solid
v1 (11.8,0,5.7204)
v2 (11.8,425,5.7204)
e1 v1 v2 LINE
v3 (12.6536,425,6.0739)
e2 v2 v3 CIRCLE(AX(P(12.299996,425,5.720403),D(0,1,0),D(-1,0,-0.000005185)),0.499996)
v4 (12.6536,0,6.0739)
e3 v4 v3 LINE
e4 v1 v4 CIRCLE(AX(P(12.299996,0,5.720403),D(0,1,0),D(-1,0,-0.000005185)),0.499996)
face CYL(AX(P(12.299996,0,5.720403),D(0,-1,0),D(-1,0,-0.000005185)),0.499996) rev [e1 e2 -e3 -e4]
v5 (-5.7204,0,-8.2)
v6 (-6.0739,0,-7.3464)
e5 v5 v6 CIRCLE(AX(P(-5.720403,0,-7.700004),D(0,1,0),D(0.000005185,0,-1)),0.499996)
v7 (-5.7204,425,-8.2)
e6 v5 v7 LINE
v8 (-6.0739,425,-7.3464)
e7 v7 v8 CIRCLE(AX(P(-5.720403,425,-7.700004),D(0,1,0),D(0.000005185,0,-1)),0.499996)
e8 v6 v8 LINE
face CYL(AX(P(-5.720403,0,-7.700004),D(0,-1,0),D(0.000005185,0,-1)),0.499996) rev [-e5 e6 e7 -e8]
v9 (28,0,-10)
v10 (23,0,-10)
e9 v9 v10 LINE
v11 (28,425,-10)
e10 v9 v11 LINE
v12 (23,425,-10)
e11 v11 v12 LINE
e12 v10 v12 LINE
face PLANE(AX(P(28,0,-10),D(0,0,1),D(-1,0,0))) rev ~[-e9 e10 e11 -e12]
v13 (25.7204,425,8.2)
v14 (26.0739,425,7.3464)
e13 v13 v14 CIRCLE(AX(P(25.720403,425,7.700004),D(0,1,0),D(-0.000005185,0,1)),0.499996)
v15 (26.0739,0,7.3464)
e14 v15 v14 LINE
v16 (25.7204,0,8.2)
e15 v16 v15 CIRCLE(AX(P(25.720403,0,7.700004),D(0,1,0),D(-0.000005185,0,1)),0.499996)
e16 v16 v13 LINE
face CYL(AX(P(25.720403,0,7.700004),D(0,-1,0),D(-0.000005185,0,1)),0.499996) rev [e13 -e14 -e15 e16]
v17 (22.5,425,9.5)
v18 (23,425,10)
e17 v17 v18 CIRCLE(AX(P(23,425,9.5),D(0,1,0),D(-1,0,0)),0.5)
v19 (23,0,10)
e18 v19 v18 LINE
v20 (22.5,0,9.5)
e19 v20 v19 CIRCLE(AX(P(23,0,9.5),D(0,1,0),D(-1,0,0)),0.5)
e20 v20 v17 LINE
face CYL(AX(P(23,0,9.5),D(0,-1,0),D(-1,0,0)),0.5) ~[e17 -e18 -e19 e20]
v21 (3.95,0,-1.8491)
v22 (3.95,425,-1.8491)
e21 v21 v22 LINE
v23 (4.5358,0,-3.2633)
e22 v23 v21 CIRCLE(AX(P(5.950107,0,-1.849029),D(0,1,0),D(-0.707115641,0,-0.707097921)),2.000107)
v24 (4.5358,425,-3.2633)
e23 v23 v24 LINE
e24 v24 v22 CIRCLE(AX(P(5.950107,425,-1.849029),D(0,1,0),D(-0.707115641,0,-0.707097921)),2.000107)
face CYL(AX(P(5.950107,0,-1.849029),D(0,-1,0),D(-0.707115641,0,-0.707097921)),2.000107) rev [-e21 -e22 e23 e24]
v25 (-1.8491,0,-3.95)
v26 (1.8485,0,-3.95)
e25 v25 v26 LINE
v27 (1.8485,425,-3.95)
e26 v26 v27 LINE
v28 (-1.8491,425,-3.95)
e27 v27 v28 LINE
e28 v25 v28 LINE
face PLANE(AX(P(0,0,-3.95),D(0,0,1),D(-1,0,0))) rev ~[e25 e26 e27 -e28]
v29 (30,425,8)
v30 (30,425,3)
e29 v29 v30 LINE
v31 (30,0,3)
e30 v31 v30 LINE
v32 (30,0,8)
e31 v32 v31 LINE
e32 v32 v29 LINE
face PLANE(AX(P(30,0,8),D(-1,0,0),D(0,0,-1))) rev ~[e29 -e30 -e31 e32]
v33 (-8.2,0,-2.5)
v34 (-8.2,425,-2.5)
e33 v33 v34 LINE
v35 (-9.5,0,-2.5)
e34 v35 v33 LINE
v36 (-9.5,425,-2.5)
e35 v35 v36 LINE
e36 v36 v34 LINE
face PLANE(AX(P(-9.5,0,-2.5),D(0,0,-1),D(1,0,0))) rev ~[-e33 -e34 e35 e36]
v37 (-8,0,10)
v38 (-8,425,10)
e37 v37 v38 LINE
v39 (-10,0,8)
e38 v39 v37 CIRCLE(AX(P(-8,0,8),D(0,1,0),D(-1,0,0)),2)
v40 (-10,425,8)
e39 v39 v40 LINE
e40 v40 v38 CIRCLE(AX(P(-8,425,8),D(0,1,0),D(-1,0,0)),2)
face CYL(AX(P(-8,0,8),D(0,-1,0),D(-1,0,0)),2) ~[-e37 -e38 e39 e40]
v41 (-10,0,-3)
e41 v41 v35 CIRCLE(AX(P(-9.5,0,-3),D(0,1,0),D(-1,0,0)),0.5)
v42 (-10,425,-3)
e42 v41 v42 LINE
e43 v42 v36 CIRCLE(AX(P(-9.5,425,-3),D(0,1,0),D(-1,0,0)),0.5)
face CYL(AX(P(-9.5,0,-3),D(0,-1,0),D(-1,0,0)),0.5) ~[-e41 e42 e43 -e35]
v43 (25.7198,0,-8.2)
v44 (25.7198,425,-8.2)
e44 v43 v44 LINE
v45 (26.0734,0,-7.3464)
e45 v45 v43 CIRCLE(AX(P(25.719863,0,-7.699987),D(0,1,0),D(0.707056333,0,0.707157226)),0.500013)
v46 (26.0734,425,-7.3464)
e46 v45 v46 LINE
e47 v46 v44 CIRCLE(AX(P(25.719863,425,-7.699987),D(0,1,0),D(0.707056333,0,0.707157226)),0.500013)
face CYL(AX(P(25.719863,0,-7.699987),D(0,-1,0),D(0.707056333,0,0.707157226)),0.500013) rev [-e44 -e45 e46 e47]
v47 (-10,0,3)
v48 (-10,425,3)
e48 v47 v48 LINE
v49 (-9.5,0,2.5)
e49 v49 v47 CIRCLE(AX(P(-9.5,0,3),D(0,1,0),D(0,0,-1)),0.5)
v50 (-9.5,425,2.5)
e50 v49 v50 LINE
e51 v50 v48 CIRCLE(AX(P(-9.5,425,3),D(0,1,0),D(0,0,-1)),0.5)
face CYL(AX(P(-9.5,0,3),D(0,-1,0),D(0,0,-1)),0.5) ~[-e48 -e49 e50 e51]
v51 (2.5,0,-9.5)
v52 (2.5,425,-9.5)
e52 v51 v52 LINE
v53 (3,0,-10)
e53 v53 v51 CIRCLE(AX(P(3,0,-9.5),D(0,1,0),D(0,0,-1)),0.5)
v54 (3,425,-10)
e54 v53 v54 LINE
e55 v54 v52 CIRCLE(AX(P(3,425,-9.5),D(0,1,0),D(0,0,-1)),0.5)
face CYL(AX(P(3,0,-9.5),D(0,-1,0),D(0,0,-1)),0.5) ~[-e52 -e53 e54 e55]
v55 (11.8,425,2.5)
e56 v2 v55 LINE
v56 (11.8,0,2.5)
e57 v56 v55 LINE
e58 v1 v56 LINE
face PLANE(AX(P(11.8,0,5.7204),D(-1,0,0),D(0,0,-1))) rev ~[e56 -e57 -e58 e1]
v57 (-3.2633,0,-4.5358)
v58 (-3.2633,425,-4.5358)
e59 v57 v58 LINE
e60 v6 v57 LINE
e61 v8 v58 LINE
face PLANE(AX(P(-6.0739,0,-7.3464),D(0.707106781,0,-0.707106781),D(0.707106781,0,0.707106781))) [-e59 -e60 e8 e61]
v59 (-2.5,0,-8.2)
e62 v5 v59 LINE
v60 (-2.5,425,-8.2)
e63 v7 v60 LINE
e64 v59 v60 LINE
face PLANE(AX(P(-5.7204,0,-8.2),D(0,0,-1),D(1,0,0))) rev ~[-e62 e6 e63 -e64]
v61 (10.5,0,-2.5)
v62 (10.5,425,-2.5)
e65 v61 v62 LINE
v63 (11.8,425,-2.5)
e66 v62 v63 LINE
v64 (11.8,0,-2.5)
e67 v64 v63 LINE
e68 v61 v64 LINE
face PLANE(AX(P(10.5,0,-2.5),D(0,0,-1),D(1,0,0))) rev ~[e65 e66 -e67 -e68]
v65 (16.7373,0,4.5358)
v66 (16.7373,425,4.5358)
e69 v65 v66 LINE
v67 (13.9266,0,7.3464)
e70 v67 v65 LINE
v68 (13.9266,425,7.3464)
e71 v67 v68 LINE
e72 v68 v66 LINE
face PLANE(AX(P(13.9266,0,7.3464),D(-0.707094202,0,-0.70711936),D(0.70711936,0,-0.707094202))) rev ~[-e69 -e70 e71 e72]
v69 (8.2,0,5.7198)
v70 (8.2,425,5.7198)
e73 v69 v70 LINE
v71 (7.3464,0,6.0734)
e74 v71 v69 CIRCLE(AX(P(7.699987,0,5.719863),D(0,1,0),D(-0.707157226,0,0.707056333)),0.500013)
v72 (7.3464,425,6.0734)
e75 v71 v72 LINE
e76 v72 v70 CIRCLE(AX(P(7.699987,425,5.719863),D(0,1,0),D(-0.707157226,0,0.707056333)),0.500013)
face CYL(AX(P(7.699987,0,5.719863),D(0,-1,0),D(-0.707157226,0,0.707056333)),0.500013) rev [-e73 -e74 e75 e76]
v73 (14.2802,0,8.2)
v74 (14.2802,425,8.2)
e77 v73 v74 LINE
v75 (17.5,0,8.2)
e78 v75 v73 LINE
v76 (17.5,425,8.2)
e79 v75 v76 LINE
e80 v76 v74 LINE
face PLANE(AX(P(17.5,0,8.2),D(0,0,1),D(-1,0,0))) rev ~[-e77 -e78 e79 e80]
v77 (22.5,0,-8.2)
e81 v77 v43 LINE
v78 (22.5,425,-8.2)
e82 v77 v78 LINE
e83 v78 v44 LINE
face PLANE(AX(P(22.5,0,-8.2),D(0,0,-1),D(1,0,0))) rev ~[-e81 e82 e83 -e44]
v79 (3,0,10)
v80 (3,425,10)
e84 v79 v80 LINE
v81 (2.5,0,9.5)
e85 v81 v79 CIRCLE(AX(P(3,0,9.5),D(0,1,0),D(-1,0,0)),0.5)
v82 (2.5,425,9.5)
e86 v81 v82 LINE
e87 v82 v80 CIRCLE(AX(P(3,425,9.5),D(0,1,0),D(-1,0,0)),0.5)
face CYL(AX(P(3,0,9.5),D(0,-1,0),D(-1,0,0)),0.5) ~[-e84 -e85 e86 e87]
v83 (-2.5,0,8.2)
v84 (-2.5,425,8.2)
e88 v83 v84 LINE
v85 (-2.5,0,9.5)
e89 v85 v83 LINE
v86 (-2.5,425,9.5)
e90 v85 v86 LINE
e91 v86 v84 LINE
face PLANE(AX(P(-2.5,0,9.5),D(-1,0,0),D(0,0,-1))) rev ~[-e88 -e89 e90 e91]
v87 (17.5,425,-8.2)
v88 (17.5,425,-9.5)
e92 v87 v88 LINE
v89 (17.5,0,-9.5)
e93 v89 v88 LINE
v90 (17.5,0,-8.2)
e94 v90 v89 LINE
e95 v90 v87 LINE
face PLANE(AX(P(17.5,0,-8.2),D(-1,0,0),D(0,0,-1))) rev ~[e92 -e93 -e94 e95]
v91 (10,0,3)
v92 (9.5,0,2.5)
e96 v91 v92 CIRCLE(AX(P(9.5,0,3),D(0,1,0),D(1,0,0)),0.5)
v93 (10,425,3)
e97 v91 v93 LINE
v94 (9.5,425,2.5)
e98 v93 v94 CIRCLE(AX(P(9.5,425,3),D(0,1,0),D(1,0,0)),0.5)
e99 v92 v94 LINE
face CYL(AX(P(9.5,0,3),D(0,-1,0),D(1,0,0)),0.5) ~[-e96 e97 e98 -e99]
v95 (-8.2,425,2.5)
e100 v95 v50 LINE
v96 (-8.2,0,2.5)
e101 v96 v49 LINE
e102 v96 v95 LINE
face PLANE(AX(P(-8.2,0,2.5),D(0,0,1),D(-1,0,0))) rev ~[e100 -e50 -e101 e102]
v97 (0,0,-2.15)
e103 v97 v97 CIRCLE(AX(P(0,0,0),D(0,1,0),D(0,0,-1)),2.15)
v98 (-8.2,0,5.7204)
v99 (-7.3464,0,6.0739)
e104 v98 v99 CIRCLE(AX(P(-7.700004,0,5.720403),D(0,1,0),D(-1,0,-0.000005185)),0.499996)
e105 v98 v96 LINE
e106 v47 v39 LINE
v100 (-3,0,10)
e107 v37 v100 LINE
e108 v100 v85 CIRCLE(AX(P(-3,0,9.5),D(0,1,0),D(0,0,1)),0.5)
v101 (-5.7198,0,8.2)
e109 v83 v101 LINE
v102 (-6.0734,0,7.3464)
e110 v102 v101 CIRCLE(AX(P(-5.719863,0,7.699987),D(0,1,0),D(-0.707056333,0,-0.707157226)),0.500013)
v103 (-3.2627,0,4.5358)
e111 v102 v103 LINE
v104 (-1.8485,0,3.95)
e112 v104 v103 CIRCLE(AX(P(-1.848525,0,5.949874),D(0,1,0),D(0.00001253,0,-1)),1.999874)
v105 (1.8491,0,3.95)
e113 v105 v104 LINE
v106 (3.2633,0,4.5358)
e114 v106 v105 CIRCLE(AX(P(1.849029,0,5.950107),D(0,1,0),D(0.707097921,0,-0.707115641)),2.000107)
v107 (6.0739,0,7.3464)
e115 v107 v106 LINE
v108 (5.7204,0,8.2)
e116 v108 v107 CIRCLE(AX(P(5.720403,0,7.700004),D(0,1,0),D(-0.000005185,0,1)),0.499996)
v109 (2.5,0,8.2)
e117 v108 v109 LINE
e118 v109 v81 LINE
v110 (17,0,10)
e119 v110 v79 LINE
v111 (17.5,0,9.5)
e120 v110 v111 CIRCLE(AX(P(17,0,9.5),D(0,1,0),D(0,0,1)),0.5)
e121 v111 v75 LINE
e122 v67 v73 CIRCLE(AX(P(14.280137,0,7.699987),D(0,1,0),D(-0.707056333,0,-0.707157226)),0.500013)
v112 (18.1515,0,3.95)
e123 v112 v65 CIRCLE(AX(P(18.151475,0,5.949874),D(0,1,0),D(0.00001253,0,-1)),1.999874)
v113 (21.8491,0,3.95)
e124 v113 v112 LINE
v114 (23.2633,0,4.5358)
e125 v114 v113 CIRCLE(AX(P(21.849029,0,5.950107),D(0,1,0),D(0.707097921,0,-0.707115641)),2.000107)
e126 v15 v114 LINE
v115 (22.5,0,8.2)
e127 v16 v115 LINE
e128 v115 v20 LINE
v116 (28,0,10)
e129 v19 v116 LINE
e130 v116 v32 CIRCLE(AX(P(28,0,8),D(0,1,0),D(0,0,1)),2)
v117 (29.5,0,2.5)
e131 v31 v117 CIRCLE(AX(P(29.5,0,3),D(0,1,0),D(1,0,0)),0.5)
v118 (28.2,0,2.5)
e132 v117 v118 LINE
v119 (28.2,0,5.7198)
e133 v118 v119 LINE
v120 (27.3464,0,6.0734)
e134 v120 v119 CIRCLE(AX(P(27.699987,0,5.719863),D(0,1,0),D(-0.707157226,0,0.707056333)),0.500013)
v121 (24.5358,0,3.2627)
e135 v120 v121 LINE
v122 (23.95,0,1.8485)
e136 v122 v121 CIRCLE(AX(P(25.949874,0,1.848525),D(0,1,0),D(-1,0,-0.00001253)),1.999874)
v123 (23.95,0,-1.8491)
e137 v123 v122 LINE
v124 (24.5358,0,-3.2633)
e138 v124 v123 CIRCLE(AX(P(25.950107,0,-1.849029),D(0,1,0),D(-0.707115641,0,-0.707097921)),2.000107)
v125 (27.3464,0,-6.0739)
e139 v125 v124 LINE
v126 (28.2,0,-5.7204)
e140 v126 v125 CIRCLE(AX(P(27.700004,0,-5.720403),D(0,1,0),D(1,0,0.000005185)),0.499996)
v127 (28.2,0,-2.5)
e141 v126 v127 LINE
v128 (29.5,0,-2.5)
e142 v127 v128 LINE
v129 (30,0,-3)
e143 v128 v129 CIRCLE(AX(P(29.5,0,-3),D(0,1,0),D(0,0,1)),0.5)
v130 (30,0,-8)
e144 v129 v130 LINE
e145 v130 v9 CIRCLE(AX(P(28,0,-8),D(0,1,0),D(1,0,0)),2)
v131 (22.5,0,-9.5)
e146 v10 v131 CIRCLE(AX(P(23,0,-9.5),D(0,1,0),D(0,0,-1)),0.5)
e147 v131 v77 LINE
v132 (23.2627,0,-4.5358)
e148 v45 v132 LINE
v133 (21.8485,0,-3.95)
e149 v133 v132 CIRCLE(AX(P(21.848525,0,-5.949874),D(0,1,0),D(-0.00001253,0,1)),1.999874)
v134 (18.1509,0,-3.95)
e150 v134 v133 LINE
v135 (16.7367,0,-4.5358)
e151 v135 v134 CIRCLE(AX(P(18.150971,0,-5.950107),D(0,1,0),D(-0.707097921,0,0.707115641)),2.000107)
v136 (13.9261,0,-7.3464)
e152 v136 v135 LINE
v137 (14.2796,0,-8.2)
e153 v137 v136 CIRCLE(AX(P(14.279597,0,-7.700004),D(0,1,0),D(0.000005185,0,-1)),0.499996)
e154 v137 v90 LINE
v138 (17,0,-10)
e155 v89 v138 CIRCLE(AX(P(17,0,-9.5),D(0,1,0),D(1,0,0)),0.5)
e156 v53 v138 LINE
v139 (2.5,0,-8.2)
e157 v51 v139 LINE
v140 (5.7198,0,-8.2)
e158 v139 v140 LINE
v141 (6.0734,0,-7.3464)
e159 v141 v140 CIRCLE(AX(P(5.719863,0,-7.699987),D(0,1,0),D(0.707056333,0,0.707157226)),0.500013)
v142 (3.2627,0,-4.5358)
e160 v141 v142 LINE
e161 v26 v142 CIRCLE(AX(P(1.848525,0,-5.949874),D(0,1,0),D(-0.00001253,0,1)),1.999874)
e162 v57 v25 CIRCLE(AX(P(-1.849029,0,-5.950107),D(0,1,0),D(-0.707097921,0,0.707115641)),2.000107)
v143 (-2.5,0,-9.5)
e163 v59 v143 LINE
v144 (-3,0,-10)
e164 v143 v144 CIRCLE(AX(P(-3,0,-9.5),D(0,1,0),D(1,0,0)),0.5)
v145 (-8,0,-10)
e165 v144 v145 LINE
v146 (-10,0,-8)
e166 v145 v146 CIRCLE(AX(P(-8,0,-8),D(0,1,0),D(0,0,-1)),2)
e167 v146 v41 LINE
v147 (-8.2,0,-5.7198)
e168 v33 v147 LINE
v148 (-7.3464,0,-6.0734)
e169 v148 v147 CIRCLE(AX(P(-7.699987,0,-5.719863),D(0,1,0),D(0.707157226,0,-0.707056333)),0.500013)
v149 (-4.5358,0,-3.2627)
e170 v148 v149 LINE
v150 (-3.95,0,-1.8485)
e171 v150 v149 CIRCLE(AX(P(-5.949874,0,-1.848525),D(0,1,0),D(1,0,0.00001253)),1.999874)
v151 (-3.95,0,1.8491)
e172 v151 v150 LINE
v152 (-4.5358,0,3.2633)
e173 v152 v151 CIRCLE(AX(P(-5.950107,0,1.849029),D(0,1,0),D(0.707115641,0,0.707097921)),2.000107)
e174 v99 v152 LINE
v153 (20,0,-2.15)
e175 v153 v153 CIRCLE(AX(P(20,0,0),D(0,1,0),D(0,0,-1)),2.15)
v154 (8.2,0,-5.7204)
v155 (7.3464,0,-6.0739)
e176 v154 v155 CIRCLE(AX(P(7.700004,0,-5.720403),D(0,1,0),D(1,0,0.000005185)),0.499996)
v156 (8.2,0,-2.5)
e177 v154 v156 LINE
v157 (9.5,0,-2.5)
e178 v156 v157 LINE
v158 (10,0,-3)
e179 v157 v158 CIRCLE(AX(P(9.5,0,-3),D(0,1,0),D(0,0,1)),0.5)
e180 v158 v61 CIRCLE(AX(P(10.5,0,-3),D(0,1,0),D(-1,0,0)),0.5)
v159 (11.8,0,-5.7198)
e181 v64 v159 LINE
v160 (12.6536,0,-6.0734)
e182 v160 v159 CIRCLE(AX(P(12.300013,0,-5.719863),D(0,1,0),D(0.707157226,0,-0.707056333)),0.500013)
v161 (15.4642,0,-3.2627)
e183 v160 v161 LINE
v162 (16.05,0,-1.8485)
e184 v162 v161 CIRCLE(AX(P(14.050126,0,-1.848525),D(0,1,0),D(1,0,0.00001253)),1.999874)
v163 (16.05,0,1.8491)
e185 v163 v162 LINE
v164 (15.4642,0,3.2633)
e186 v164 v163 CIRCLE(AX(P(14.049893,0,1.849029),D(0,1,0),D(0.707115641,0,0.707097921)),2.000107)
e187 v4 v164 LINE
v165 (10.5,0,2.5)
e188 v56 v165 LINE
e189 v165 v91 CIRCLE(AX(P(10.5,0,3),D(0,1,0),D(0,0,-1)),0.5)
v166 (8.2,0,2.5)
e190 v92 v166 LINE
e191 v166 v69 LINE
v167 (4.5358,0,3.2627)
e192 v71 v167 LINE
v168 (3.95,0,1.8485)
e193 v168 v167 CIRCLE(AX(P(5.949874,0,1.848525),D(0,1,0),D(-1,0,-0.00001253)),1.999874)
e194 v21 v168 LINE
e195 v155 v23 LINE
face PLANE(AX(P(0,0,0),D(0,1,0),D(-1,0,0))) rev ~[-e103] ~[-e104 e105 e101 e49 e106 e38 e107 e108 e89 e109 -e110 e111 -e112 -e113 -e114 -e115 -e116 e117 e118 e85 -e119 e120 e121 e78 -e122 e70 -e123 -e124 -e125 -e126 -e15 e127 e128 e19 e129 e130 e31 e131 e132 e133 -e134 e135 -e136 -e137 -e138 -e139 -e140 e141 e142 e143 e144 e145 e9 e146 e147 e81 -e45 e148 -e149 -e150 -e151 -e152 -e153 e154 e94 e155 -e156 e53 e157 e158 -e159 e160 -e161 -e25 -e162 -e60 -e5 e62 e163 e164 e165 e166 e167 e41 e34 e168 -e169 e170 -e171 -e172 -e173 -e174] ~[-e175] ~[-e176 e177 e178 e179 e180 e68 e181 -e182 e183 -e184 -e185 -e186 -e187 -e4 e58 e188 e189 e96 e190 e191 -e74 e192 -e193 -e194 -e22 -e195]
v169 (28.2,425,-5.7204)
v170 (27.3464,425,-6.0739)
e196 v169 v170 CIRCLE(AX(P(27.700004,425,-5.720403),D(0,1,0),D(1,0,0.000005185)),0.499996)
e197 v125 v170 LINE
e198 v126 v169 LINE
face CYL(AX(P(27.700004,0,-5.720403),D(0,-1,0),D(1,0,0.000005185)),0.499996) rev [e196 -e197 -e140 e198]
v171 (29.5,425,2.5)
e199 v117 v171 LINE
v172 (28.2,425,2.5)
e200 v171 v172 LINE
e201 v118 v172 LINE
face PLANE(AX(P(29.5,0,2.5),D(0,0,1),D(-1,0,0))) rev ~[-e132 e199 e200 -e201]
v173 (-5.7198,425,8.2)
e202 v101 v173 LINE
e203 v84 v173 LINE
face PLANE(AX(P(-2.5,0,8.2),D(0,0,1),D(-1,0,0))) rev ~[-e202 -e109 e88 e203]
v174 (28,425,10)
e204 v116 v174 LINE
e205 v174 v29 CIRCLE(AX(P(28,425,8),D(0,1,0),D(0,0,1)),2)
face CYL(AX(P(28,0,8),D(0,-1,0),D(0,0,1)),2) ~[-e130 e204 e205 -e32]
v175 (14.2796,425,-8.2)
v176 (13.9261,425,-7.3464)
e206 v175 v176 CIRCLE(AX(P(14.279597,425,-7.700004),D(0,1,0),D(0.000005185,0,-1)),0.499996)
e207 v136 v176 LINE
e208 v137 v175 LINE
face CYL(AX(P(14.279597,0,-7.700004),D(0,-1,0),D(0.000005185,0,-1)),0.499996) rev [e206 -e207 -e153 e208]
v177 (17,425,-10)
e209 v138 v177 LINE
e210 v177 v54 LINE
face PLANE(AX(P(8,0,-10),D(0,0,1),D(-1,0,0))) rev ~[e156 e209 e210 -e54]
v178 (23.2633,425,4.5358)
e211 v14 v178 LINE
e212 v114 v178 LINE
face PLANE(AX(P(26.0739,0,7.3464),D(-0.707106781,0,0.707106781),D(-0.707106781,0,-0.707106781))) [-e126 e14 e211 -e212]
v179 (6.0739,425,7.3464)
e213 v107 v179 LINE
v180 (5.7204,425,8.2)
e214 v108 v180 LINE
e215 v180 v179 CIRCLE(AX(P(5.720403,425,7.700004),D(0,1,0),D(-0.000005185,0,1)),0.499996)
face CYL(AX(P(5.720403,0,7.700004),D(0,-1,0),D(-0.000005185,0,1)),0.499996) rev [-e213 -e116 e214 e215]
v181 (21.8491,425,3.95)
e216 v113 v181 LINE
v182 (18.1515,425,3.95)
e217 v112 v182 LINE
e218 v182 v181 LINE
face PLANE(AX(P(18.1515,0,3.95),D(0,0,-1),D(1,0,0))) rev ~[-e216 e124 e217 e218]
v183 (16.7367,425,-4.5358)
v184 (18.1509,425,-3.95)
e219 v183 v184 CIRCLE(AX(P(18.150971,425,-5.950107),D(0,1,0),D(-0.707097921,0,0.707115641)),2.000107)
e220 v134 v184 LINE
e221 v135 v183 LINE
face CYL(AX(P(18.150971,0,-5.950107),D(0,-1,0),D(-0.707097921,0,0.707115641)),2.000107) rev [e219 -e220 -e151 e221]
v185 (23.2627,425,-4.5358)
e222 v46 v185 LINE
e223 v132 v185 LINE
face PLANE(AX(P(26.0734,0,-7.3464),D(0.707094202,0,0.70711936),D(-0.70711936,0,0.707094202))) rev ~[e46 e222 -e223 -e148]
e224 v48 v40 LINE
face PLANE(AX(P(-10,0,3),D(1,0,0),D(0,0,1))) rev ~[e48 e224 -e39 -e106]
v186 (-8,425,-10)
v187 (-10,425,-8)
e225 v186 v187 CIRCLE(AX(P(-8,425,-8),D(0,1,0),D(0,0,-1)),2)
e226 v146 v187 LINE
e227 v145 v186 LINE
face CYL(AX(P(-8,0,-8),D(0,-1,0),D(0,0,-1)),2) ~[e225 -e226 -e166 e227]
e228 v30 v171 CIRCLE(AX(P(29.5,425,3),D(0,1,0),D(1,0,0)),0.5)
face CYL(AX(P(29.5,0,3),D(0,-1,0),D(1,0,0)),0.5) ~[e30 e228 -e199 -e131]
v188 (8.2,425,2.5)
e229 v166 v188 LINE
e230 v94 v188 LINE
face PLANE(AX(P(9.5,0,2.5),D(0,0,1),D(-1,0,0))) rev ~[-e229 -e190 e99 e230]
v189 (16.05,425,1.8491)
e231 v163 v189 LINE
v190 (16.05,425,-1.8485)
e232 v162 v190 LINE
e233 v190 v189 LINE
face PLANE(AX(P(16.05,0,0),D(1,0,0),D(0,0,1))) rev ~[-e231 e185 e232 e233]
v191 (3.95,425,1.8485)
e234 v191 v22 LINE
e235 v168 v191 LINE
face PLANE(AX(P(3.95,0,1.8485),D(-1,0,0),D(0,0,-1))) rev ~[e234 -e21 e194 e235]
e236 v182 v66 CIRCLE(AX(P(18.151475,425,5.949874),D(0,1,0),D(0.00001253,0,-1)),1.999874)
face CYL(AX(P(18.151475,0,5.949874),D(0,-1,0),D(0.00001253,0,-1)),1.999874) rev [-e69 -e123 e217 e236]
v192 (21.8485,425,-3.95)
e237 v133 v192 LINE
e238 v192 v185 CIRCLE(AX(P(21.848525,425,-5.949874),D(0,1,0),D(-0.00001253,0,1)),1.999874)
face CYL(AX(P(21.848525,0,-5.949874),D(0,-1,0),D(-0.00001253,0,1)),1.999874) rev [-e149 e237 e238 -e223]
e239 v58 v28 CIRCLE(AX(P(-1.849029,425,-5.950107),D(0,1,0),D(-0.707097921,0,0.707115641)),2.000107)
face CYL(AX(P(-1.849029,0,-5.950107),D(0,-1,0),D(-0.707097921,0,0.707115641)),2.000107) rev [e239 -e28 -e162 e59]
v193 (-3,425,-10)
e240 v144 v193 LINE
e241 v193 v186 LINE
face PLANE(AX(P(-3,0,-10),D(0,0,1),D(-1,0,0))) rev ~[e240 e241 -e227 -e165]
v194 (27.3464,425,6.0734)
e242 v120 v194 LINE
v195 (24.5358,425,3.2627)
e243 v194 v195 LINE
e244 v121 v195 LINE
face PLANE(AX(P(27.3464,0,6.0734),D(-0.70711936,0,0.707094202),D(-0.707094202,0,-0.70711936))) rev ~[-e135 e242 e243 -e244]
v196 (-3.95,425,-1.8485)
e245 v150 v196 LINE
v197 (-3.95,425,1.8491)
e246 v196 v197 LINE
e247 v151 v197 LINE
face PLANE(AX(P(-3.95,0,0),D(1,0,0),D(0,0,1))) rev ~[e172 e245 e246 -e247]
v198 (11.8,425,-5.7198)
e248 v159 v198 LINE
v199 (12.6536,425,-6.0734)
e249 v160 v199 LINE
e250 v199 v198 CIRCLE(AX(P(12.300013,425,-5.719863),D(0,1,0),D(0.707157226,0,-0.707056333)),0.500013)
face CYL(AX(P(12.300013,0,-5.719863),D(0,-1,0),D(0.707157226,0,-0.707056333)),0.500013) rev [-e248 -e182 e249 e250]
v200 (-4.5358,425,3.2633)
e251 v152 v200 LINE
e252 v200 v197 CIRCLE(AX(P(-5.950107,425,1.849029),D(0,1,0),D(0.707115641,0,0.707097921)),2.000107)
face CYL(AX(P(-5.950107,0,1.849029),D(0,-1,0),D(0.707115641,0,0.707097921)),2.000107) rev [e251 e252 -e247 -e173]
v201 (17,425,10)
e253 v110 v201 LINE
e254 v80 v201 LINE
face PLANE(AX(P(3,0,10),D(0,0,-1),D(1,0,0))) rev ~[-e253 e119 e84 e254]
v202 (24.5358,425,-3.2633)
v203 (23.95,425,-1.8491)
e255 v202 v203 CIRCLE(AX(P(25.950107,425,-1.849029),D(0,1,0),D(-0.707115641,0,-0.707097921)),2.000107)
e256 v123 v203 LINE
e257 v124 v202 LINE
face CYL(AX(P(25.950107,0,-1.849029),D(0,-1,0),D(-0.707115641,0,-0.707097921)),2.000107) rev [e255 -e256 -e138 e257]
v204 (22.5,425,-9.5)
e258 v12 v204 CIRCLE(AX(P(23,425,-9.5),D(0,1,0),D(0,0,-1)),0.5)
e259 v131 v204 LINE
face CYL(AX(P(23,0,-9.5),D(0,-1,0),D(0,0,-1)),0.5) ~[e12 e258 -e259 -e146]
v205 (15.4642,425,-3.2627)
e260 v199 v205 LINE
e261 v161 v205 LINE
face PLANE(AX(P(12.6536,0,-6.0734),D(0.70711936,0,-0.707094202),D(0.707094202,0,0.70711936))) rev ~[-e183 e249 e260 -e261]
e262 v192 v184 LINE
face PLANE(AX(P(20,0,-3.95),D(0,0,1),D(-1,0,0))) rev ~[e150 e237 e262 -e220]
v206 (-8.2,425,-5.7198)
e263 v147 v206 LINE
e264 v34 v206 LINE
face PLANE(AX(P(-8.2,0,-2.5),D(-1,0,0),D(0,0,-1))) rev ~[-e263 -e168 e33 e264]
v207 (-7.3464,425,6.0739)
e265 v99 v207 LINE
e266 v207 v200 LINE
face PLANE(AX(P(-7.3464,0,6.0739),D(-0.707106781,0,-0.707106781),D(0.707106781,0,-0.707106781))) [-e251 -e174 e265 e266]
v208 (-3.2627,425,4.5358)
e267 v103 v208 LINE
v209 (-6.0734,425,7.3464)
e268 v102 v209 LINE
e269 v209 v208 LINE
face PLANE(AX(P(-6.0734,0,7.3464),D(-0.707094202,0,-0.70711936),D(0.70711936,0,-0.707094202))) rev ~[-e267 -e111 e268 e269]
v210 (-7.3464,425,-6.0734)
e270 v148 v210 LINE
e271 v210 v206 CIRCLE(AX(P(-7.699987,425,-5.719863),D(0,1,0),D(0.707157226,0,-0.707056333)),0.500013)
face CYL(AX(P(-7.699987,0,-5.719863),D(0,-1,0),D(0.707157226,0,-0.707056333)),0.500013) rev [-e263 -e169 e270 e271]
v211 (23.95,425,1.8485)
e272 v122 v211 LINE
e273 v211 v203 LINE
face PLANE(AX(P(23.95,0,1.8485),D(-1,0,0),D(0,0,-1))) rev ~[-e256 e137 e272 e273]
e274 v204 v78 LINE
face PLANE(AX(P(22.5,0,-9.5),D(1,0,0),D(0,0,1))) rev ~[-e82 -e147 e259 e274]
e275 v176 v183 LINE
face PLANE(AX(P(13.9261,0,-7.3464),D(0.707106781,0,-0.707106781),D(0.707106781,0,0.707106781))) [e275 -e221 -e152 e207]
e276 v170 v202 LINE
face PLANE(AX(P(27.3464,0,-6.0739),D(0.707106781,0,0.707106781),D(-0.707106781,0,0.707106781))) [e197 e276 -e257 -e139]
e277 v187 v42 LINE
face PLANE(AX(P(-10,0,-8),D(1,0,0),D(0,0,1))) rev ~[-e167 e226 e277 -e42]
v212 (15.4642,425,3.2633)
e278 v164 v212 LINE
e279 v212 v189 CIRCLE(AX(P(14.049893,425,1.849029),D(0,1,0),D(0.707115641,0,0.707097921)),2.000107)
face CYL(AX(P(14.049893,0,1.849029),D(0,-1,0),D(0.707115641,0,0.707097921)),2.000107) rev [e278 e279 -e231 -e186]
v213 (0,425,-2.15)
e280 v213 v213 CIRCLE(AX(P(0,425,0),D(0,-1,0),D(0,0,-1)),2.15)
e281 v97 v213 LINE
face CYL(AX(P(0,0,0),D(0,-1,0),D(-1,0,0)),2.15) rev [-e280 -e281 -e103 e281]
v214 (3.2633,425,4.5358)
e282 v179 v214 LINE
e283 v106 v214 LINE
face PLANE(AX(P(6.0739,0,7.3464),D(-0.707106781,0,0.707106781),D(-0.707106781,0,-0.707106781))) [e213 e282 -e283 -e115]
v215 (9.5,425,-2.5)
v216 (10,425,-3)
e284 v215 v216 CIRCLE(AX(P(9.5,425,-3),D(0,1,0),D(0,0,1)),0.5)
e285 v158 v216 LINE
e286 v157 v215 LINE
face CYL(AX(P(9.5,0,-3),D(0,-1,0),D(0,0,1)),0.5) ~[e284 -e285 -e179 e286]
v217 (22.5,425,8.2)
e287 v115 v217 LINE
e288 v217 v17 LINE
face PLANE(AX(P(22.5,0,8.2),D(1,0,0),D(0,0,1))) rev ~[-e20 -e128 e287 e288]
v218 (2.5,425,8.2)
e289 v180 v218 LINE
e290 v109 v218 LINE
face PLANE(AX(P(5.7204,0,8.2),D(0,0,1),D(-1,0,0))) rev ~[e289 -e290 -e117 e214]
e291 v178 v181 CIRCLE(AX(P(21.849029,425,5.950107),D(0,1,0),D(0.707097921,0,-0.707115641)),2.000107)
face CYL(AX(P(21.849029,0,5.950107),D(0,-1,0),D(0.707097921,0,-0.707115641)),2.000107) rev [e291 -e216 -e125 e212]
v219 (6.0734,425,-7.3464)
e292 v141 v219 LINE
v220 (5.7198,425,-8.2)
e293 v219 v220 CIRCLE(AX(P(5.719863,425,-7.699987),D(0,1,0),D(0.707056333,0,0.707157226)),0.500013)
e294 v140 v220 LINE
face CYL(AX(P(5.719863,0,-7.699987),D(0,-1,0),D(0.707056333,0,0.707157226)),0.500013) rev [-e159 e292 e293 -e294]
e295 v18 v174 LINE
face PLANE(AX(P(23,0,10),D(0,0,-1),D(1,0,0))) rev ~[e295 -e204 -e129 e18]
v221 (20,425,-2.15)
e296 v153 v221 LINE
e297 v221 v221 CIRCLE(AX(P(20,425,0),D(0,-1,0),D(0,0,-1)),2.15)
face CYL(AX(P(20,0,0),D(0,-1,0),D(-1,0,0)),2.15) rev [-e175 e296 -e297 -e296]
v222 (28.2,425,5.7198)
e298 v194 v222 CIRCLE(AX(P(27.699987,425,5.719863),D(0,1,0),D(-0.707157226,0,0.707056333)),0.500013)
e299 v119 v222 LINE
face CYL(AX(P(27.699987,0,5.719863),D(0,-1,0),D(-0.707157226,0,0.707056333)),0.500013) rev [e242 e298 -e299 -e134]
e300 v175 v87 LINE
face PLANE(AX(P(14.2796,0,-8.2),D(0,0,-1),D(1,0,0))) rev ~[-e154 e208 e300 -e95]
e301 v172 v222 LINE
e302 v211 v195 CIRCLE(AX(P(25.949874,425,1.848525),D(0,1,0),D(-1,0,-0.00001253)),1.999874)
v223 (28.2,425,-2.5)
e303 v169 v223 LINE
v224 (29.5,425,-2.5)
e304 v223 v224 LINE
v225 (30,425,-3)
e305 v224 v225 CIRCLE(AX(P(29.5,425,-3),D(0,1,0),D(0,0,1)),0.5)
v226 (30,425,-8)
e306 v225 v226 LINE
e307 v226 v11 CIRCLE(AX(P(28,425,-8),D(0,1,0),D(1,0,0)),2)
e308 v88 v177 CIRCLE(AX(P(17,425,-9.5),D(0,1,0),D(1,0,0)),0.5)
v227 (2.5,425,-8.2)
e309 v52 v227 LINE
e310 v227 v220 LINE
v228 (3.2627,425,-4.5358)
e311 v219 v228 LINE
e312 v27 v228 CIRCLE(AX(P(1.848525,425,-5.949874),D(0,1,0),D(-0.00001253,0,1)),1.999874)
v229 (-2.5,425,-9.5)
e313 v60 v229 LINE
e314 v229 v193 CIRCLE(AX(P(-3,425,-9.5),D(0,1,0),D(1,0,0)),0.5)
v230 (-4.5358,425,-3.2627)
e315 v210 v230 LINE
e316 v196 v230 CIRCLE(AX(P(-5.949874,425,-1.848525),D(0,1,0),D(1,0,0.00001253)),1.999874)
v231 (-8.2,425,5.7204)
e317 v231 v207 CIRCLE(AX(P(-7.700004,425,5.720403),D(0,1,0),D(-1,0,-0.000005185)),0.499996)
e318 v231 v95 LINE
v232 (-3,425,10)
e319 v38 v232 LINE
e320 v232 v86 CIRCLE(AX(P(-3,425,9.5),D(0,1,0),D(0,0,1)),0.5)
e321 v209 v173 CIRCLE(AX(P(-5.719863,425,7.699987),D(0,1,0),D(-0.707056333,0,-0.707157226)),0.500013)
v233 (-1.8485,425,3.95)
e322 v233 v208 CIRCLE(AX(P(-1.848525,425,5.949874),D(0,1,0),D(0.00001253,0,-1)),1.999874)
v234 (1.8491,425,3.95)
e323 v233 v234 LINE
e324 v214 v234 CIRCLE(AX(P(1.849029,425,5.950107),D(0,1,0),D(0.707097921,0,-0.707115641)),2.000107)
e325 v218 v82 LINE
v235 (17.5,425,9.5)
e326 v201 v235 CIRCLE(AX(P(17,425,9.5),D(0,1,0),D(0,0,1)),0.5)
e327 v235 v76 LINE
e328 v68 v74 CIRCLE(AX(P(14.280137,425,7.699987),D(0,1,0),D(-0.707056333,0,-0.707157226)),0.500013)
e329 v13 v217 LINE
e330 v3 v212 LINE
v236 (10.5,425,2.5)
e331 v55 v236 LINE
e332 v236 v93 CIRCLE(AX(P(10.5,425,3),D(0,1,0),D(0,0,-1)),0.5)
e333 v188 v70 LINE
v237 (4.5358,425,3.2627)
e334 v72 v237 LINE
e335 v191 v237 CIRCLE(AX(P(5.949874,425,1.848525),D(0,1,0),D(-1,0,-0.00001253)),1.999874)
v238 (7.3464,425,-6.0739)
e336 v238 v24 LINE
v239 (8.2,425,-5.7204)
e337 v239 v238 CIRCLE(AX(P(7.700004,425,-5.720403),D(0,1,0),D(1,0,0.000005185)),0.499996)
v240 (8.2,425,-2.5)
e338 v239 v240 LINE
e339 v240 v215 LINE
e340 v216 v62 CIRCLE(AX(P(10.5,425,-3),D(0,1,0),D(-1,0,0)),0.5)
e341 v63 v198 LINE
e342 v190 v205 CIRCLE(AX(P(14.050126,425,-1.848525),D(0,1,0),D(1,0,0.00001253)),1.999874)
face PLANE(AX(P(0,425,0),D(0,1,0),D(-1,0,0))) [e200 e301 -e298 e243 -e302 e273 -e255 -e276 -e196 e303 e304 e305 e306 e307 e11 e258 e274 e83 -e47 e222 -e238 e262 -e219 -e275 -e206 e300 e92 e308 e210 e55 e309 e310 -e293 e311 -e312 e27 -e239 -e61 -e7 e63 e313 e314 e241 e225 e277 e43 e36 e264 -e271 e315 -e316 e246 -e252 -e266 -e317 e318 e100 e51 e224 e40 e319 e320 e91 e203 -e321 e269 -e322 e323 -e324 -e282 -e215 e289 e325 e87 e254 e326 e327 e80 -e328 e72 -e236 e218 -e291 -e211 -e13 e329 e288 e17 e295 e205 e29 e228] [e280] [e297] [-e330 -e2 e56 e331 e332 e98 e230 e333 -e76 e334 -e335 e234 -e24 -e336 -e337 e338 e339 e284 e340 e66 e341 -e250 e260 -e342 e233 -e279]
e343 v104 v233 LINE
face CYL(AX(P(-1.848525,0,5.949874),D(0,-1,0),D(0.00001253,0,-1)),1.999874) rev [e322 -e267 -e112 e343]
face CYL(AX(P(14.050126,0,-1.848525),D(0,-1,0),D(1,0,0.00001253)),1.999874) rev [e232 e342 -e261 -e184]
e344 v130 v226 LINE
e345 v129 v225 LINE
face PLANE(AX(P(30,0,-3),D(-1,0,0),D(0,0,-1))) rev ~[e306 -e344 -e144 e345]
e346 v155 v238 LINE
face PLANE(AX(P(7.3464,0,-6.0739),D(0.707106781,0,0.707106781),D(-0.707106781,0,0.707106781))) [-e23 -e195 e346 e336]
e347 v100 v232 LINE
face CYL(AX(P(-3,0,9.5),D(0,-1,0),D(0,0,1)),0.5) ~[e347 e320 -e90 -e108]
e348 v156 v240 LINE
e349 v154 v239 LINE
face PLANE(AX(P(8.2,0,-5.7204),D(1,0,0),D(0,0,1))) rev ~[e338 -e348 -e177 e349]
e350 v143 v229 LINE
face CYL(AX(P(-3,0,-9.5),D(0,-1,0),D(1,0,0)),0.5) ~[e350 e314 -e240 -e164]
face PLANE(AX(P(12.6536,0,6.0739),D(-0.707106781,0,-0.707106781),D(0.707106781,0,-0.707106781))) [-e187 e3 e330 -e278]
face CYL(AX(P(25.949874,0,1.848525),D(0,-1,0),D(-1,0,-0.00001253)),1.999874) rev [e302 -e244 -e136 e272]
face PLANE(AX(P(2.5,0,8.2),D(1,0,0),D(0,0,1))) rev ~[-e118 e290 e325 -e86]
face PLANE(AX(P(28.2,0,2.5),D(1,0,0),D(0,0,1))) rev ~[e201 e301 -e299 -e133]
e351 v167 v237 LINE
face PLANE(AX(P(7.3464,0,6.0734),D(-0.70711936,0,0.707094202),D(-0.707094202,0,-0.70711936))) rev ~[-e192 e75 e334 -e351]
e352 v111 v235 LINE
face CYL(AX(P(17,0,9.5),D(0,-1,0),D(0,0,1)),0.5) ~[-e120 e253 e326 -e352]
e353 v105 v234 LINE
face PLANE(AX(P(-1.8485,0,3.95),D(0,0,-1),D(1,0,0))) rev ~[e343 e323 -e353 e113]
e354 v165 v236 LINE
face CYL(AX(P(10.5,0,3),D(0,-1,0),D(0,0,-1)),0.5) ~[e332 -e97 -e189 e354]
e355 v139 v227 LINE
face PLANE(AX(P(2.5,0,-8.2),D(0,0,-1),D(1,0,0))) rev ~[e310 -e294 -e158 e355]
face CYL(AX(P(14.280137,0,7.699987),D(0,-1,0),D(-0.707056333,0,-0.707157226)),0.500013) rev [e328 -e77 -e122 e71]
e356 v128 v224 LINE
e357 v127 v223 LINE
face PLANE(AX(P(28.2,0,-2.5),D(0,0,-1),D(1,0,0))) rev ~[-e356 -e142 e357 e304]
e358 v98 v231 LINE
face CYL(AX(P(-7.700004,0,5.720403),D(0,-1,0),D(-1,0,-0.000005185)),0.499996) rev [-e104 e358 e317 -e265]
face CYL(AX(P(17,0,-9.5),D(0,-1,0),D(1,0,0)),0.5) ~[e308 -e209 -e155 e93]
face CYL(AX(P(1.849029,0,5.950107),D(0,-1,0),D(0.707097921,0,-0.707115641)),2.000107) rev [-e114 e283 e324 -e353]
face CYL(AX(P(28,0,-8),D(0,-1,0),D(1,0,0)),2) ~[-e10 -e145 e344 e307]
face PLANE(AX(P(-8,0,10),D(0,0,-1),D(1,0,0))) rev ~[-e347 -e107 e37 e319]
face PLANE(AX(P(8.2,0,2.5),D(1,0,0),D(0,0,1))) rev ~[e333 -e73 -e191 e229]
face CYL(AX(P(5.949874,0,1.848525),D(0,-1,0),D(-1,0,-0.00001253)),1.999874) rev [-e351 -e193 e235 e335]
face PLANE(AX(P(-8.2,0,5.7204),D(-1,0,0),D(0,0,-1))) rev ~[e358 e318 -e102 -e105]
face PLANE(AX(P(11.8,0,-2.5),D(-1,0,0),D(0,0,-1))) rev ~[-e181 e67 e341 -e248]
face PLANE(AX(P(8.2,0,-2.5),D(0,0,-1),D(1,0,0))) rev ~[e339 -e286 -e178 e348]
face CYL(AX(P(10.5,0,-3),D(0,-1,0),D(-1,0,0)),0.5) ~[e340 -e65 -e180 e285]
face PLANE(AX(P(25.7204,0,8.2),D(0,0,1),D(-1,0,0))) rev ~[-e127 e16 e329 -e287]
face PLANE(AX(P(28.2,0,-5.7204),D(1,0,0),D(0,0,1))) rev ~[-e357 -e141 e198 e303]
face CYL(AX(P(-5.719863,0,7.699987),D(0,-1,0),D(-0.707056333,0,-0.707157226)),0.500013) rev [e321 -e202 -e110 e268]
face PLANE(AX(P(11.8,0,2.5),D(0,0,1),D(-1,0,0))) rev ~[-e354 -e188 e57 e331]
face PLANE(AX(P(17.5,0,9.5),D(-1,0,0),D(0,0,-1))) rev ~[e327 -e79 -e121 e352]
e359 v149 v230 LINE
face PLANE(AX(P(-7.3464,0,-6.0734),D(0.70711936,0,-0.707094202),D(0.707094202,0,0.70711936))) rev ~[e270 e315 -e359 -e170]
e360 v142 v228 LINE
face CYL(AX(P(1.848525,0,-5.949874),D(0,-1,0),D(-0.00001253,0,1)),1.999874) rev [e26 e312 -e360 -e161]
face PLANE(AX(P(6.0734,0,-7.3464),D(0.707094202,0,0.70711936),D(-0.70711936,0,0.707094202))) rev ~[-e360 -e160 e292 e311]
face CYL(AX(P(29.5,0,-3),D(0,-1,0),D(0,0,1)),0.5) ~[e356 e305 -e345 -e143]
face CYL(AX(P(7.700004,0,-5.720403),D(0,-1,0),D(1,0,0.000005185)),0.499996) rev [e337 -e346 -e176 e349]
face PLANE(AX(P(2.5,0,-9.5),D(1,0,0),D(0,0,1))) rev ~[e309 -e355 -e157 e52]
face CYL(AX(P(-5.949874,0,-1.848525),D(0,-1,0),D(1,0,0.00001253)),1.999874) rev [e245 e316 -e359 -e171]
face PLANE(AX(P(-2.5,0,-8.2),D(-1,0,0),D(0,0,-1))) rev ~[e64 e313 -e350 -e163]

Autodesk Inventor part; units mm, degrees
ref_plane "YZ Plane" through (0, 0, 0) normal (1, 0, 0) x (0, 1, 0)
ref_plane "XZ Plane" through (0, 0, 0) normal (0, 1, 0) x (-1, 0, 0)
ref_plane "XY Plane" through (0, 0, 0) normal (0, 0, 1) x (1, 0, 0)
sketch "Sketch1" plane through (0, 0, 0) normal (0, 1, 0) x (-1, 0, 0)
  line L0 (8, 10) -> (3, 10)
  line L1 (10, 3) -> (10, 8)
  line L2 (2.5, 9.5) -> (2.5, 8.2)
  line L3 (2.5, 8.2) -> (5.7198, 8.2)
  line L4 (6.0734, 7.3464) -> (3.2627, 4.5358)
  line L5 (1.8485, 3.95) -> (0, 3.95)
  line L6 (0, 3.95) -> (0, 2.15)
  line L7 (0, 2.15) -> (0, 2.15)
  line L8 (2.15, 0) -> (2.15, 0)
  line L9 (2.15, 0) -> (3.95, 0)
  line L10 (8.2, 5.7204) -> (8.2, 2.5)
  line L11 (8.2, 2.5) -> (9.5, 2.5)
  line L12 (0, 29.0836) -> (0, -4.1523) construction
  line L13 (3.95, 0) -> (3.95, 1.8491)
  line L14 (7.3464, 6.0739) -> (4.5358, 3.2633)
  arc A0 (10, 8) -> (8, 10) centre (8, 8) ccw
  arc A1 (8.2, 5.7204) -> (7.3464, 6.0739) centre (7.7, 5.7204) ccw
  arc A2 (6.0734, 7.3464) -> (5.7198, 8.2) centre (5.7198, 7.7) ccw
  arc A3 (4.5358, 3.2633) -> (3.95, 1.8491) centre (5.95, 1.8491) ccw
  arc A4 (1.8485, 3.95) -> (3.2627, 4.5358) centre (1.8485, 5.95) ccw
  arc A5 (2.15, 0) -> (0, 2.15) centre (0, 0) ccw
  arc A6 (3, 10) -> (2.5, 9.5) centre (3, 9.5) ccw
  arc A7 (9.5, 2.5) -> (10, 3) centre (9.5, 3) ccw
  line L15 (18.5462, 0) -> (-9.9601, 0) construction
  line L16 (-3, 10) -> (-8, 10)
  arc A8 (-2.5, 9.5) -> (-3, 10) centre (-3, 9.5) ccw
  line L17 (-2.5, 8.2) -> (-2.5, 9.5)
  line L18 (-5.7204, 8.2) -> (-2.5, 8.2)
  arc A9 (-5.7204, 8.2) -> (-6.0739, 7.3464) centre (-5.7204, 7.7) ccw
  line L19 (-6.0739, 7.3464) -> (-3.2633, 4.5358)
  arc A10 (-3.2633, 4.5358) -> (-1.8491, 3.95) centre (-1.8491, 5.95) ccw
  line L20 (0, 3.95) -> (-1.8491, 3.95)
  line L21 (0, 2.15) -> (0, 3.95)
  arc A11 (0, 2.15) -> (-2.15, 0) centre (0, 0) ccw
  line L22 (-3.95, 0) -> (-2.15, 0)
  line L23 (-3.95, 1.8485) -> (-3.95, 0)
  arc A12 (-3.95, 1.8485) -> (-4.5358, 3.2627) centre (-5.95, 1.8485) ccw
  line L24 (-7.3464, 6.0734) -> (-4.5358, 3.2627)
  arc A13 (-7.3464, 6.0734) -> (-8.2, 5.7198) centre (-7.7, 5.7198) ccw
  line L25 (-8.2, 2.5) -> (-8.2, 5.7198)
  line L26 (-9.5, 2.5) -> (-8.2, 2.5)
  arc A14 (-10, 3) -> (-9.5, 2.5) centre (-9.5, 3) ccw
  line L27 (-10, 8) -> (-10, 3)
  arc A15 (-8, 10) -> (-10, 8) centre (-8, 8) ccw
  line L28 (-10, -3) -> (-10, -8)
  arc A16 (-9.5, -2.5) -> (-10, -3) centre (-9.5, -3) ccw
  line L29 (-8.2, -2.5) -> (-9.5, -2.5)
  line L30 (-8.2, -5.7204) -> (-8.2, -2.5)
  arc A17 (-8.2, -5.7204) -> (-7.3464, -6.0739) centre (-7.7, -5.7204) ccw
  line L31 (-7.3464, -6.0739) -> (-4.5358, -3.2633)
  arc A18 (-4.5358, -3.2633) -> (-3.95, -1.8491) centre (-5.95, -1.8491) ccw
  line L32 (-3.95, 0) -> (-3.95, -1.8491)
  line L33 (-2.15, 0) -> (-3.95, 0)
  arc A19 (-2.15, 0) -> (0, -2.15) centre (0, 0) ccw
  line L34 (0, -3.95) -> (0, -2.15)
  line L35 (-1.8485, -3.95) -> (0, -3.95)
  arc A20 (-1.8485, -3.95) -> (-3.2627, -4.5358) centre (-1.8485, -5.95) ccw
  line L36 (-6.0734, -7.3464) -> (-3.2627, -4.5358)
  arc A21 (-6.0734, -7.3464) -> (-5.7198, -8.2) centre (-5.7198, -7.7) ccw
  line L37 (-2.5, -8.2) -> (-5.7198, -8.2)
  line L38 (-2.5, -9.5) -> (-2.5, -8.2)
  arc A22 (-3, -10) -> (-2.5, -9.5) centre (-3, -9.5) ccw
  line L39 (-8, -10) -> (-3, -10)
  arc A23 (-10, -8) -> (-8, -10) centre (-8, -8) ccw
  line L40 (3, -10) -> (8, -10)
  arc A24 (2.5, -9.5) -> (3, -10) centre (3, -9.5) ccw
  line L41 (2.5, -8.2) -> (2.5, -9.5)
  line L42 (5.7204, -8.2) -> (2.5, -8.2)
  arc A25 (5.7204, -8.2) -> (6.0739, -7.3464) centre (5.7204, -7.7) ccw
  line L43 (6.0739, -7.3464) -> (3.2633, -4.5358)
  arc A26 (3.2633, -4.5358) -> (1.8491, -3.95) centre (1.8491, -5.95) ccw
  line L44 (0, -3.95) -> (1.8491, -3.95)
  line L45 (0, -2.15) -> (0, -3.95)
  arc A27 (0, -2.15) -> (2.15, 0) centre (0, 0) ccw
  line L46 (3.95, 0) -> (2.15, 0)
  line L47 (3.95, -1.8485) -> (3.95, 0)
  arc A28 (3.95, -1.8485) -> (4.5358, -3.2627) centre (5.95, -1.8485) ccw
  line L48 (7.3464, -6.0734) -> (4.5358, -3.2627)
  arc A29 (7.3464, -6.0734) -> (8.2, -5.7198) centre (7.7, -5.7198) ccw
  line L49 (8.2, -2.5) -> (8.2, -5.7198)
  line L50 (9.5, -2.5) -> (8.2, -2.5)
  arc A30 (10, -3) -> (9.5, -2.5) centre (9.5, -3) ccw
  line L51 (10, -8) -> (10, -3)
  arc A31 (8, -10) -> (10, -8) centre (8, -8) ccw
  line L52 (-25.7204, 8.2) -> (-22.5, 8.2)
  line L53 (-22.5, 8.2) -> (-22.5, 9.5)
  arc A32 (-22.5, 9.5) -> (-23, 10) centre (-23, 9.5) ccw
  line L54 (-23, 10) -> (-28, 10)
  line L55 (-18.1515, 3.95) -> (-20, 3.95)
  line L56 (-20, 2.15) -> (-20, 2.15)
  line L57 (-17.85, 0) -> (-17.85, 0)
  line L58 (-17.85, 0) -> (-16.05, 0)
  line L59 (-11.8, 2.5) -> (-10.5, 2.5)
  line L60 (-1.4538, 0) -> (-29.9601, 0) construction
  line L61 (-16.05, 0) -> (-16.05, 1.8491)
  arc A33 (-15.4642, 3.2633) -> (-16.05, 1.8491) centre (-14.05, 1.8491) ccw
  arc A34 (-17.85, 0) -> (-20, 2.15) centre (-20, 0) ccw
  line L62 (-20, 3.95) -> (-20, 2.15)
  line L63 (-20, 3.95) -> (-21.8491, 3.95)
  arc A35 (-23.2633, 4.5358) -> (-21.8491, 3.95) centre (-21.8491, 5.95) ccw
  line L64 (-20, 2.15) -> (-20, 3.95)
  arc A36 (-20, 2.15) -> (-22.15, 0) centre (-20, 0) ccw
  arc A37 (-10.5, 2.5) -> (-10, 3) centre (-10.5, 3) ccw
  line L65 (-12.6536, -6.0734) -> (-15.4642, -3.2627)
  line L66 (-10.5, -2.5) -> (-11.8, -2.5)
  line L67 (-13.9261, -7.3464) -> (-16.7367, -4.5358)
  arc A38 (-10, -3) -> (-10.5, -2.5) centre (-10.5, -3) ccw
  line L68 (-14.2796, -8.2) -> (-17.5, -8.2)
  arc A39 (-12.6536, -6.0734) -> (-11.8, -5.7198) centre (-12.3, -5.7198) ccw
  arc A40 (-14.2796, -8.2) -> (-13.9261, -7.3464) centre (-14.2796, -7.7) ccw
  line L69 (-17, -10) -> (-12, -10)
  line L70 (-10, -8) -> (-10, -3)
  line L71 (-11.8, -2.5) -> (-11.8, -5.7198)
  arc A41 (-12, -10) -> (-10, -8) centre (-12, -8) ccw
  arc A42 (-25.7204, 8.2) -> (-26.0739, 7.3464) centre (-25.7204, 7.7) ccw
  arc A43 (-28, 10) -> (-30, 8) centre (-28, 8) ccw
  arc A44 (-27.3464, 6.0734) -> (-28.2, 5.7198) centre (-27.7, 5.7198) ccw
  line L72 (-26.0739, 7.3464) -> (-23.2633, 4.5358)
  line L73 (-27.3464, 6.0734) -> (-24.5358, 3.2627)
  arc A45 (-23.95, 1.8485) -> (-24.5358, 3.2627) centre (-25.95, 1.8485) ccw
  line L74 (-28.2, 2.5) -> (-28.2, 5.7198)
  line L75 (-30, 8) -> (-30, 3)
  line L76 (-29.5, 2.5) -> (-28.2, 2.5)
  arc A46 (-30, 3) -> (-29.5, 2.5) centre (-29.5, 3) ccw
  line L77 (-23.95, 0) -> (-22.15, 0)
  line L78 (-22.15, 0) -> (-23.95, 0)
  arc A47 (-22.15, 0) -> (-20, -2.15) centre (-20, 0) ccw
  line L79 (-23.95, 0) -> (-23.95, -1.8491)
  arc A48 (-24.5358, -3.2633) -> (-23.95, -1.8491) centre (-25.95, -1.8491) ccw
  line L80 (-21.8485, -3.95) -> (-20, -3.95)
  line L81 (-20, -3.95) -> (-20, -2.15)
  line L82 (-20, -2.15) -> (-20, -3.95)
  line L83 (-17.5, 9.5) -> (-17.5, 8.2)
  arc A49 (-18.1515, 3.95) -> (-16.7373, 4.5358) centre (-18.1515, 5.95) ccw
  arc A50 (-17, 10) -> (-17.5, 9.5) centre (-17, 9.5) ccw
  line L84 (-17.5, 8.2) -> (-14.2802, 8.2)
  line L85 (-13.9266, 7.3464) -> (-16.7373, 4.5358)
  arc A51 (-13.9266, 7.3464) -> (-14.2802, 8.2) centre (-14.2802, 7.7) ccw
  line L86 (-12.6536, 6.0739) -> (-15.4642, 3.2633)
  line L87 (-11.8, 5.7204) -> (-11.8, 2.5)
  arc A52 (-11.8, 5.7204) -> (-12.6536, 6.0739) centre (-12.3, 5.7204) ccw
  line L88 (-12, 10) -> (-17, 10)
  line L89 (-10, 3) -> (-10, 8)
  arc A53 (-10, 8) -> (-12, 10) centre (-12, 8) ccw
  line L90 (-30, -3) -> (-30, -8)
  arc A54 (-28.2, -5.7204) -> (-27.3464, -6.0739) centre (-27.7, -5.7204) ccw
  arc A55 (-30, -8) -> (-28, -10) centre (-28, -8) ccw
  line L91 (-27.3464, -6.0739) -> (-24.5358, -3.2633)
  arc A56 (-26.0734, -7.3464) -> (-25.7198, -8.2) centre (-25.7198, -7.7) ccw
  line L92 (-26.0734, -7.3464) -> (-23.2627, -4.5358)
  arc A57 (-21.8485, -3.95) -> (-23.2627, -4.5358) centre (-21.8485, -5.95) ccw
  line L93 (-28, -10) -> (-23, -10)
  line L94 (-22.5, -8.2) -> (-25.7198, -8.2)
  line L95 (-22.5, -9.5) -> (-22.5, -8.2)
  arc A58 (-23, -10) -> (-22.5, -9.5) centre (-23, -9.5) ccw
  line L96 (-20, -3.95) -> (-18.1509, -3.95)
  arc A59 (-20, -2.15) -> (-17.85, 0) centre (-20, 0) ccw
  line L97 (-16.05, -1.8485) -> (-16.05, 0)
  line L98 (-16.05, 0) -> (-17.85, 0)
  arc A60 (-16.05, -1.8485) -> (-15.4642, -3.2627) centre (-14.05, -1.8485) ccw
  arc A61 (-16.7367, -4.5358) -> (-18.1509, -3.95) centre (-18.1509, -5.95) ccw
  line L99 (-23.95, 1.8485) -> (-23.95, 0)
  line L100 (-17.5, -8.2) -> (-17.5, -9.5)
  arc A62 (-17.5, -9.5) -> (-17, -10) centre (-17, -9.5) ccw
  line L101 (-28.2, -5.7204) -> (-28.2, -2.5)
  line L102 (-28.2, -2.5) -> (-29.5, -2.5)
  arc A63 (-29.5, -2.5) -> (-30, -3) centre (-29.5, -3) ccw
  line L103 (-8, -10) -> (-12, -10)
  line L104 (-8, 10) -> (-12, 10)
  point P0 (0, 0)
  point P1 (3.95, 2.6775)
  point P2 (-2.6775, 3.95)
  point P3 (0, 0)
  point P4 (-3.95, -2.6775)
  point P5 (0, 0)
  point P6 (2.6775, -3.95)
  point P7 (0, 0)
  point P8 (-20, 0)
  point P9 (-16.05, 2.6775)
  point P10 (-20, -4.1523)
  point P11 (-22.6775, 3.95)
  point P12 (-20, 0)
  point P13 (-20, 0)
  point P14 (-20, 0)
  point P15 (-17.3225, -3.95)
  point P16 (-23.95, -2.6775)
  point P17 (-10, 3)
  dimension "d1" = 2.5
  dimension "d2" = 2.5
  dimension "d3" = 1.8
  dimension "d4" = 1.8
  dimension "d5" = 45
  dimension "d6" = 2.15
  dimension "d7" = 2.15
  dimension "d8" = 1.8
  dimension "d11" = 10
  dimension "d12" = 10
  dimension "d14" = 1.8
  dimension "d15" = 1.8
  dimension "d16" = 2.6775
  dimension "d18" = 2
  dimension "d19" = 0.5
  dimension "d20" = 2
  dimension "d21" = 2.15
  dimension "d22" = 0.5
  dimension "d25" = 360
  dimension "d31" = 20
extrude "Profil_40x20" add sketch "Sketch1" along normal blind 425 contours A0 L1 A7 L11 L10 A1 L14 A3 L13 L9 A5 L6 L5 A4 L4 A2 L3 L2 A6 L0 | L6 A11 L22 L23 A12 L24 A13 L25 L26 A14 L27 A15 L16 A8 L17 L18 A9 L19 A10 L20 | L47 A28 L48 A29 L49 L50 A30 L51 A31 L40 A24 L41 L42 A25 L43 A26 L44 L34 A27 L9 | A19 L34 L35 A20 L36 A21 L37 L38 A22 L39 A23 L28 A16 L29 L30 A17 L31 A18 L32 L22 | A15 A53 L104 | L27 A37 L59 L87 A52 L86 A33 L61 L58 A34 L62 L55 A49 L85 A51 L84 L83 A50 L88 A53 | L28 A41 L69 A62 L100 L68 A40 L67 A61 L96 L81 A59 L58 L97 A60 L65 A39 L71 L66 A38 | A23 L103 A41 | L62 A36 L77 L99 A45 L73 A44 L74 L76 A46 L75 A43 L54 A32 L53 L52 A42 L72 A35 L63 | L81 L80 A57 L92 A56 L94 L95 A58 L93 A55 L90 A63 L102 L101 A54 L91 A48 L79 L77 A47
properties part number "Profil_40x20_500"
